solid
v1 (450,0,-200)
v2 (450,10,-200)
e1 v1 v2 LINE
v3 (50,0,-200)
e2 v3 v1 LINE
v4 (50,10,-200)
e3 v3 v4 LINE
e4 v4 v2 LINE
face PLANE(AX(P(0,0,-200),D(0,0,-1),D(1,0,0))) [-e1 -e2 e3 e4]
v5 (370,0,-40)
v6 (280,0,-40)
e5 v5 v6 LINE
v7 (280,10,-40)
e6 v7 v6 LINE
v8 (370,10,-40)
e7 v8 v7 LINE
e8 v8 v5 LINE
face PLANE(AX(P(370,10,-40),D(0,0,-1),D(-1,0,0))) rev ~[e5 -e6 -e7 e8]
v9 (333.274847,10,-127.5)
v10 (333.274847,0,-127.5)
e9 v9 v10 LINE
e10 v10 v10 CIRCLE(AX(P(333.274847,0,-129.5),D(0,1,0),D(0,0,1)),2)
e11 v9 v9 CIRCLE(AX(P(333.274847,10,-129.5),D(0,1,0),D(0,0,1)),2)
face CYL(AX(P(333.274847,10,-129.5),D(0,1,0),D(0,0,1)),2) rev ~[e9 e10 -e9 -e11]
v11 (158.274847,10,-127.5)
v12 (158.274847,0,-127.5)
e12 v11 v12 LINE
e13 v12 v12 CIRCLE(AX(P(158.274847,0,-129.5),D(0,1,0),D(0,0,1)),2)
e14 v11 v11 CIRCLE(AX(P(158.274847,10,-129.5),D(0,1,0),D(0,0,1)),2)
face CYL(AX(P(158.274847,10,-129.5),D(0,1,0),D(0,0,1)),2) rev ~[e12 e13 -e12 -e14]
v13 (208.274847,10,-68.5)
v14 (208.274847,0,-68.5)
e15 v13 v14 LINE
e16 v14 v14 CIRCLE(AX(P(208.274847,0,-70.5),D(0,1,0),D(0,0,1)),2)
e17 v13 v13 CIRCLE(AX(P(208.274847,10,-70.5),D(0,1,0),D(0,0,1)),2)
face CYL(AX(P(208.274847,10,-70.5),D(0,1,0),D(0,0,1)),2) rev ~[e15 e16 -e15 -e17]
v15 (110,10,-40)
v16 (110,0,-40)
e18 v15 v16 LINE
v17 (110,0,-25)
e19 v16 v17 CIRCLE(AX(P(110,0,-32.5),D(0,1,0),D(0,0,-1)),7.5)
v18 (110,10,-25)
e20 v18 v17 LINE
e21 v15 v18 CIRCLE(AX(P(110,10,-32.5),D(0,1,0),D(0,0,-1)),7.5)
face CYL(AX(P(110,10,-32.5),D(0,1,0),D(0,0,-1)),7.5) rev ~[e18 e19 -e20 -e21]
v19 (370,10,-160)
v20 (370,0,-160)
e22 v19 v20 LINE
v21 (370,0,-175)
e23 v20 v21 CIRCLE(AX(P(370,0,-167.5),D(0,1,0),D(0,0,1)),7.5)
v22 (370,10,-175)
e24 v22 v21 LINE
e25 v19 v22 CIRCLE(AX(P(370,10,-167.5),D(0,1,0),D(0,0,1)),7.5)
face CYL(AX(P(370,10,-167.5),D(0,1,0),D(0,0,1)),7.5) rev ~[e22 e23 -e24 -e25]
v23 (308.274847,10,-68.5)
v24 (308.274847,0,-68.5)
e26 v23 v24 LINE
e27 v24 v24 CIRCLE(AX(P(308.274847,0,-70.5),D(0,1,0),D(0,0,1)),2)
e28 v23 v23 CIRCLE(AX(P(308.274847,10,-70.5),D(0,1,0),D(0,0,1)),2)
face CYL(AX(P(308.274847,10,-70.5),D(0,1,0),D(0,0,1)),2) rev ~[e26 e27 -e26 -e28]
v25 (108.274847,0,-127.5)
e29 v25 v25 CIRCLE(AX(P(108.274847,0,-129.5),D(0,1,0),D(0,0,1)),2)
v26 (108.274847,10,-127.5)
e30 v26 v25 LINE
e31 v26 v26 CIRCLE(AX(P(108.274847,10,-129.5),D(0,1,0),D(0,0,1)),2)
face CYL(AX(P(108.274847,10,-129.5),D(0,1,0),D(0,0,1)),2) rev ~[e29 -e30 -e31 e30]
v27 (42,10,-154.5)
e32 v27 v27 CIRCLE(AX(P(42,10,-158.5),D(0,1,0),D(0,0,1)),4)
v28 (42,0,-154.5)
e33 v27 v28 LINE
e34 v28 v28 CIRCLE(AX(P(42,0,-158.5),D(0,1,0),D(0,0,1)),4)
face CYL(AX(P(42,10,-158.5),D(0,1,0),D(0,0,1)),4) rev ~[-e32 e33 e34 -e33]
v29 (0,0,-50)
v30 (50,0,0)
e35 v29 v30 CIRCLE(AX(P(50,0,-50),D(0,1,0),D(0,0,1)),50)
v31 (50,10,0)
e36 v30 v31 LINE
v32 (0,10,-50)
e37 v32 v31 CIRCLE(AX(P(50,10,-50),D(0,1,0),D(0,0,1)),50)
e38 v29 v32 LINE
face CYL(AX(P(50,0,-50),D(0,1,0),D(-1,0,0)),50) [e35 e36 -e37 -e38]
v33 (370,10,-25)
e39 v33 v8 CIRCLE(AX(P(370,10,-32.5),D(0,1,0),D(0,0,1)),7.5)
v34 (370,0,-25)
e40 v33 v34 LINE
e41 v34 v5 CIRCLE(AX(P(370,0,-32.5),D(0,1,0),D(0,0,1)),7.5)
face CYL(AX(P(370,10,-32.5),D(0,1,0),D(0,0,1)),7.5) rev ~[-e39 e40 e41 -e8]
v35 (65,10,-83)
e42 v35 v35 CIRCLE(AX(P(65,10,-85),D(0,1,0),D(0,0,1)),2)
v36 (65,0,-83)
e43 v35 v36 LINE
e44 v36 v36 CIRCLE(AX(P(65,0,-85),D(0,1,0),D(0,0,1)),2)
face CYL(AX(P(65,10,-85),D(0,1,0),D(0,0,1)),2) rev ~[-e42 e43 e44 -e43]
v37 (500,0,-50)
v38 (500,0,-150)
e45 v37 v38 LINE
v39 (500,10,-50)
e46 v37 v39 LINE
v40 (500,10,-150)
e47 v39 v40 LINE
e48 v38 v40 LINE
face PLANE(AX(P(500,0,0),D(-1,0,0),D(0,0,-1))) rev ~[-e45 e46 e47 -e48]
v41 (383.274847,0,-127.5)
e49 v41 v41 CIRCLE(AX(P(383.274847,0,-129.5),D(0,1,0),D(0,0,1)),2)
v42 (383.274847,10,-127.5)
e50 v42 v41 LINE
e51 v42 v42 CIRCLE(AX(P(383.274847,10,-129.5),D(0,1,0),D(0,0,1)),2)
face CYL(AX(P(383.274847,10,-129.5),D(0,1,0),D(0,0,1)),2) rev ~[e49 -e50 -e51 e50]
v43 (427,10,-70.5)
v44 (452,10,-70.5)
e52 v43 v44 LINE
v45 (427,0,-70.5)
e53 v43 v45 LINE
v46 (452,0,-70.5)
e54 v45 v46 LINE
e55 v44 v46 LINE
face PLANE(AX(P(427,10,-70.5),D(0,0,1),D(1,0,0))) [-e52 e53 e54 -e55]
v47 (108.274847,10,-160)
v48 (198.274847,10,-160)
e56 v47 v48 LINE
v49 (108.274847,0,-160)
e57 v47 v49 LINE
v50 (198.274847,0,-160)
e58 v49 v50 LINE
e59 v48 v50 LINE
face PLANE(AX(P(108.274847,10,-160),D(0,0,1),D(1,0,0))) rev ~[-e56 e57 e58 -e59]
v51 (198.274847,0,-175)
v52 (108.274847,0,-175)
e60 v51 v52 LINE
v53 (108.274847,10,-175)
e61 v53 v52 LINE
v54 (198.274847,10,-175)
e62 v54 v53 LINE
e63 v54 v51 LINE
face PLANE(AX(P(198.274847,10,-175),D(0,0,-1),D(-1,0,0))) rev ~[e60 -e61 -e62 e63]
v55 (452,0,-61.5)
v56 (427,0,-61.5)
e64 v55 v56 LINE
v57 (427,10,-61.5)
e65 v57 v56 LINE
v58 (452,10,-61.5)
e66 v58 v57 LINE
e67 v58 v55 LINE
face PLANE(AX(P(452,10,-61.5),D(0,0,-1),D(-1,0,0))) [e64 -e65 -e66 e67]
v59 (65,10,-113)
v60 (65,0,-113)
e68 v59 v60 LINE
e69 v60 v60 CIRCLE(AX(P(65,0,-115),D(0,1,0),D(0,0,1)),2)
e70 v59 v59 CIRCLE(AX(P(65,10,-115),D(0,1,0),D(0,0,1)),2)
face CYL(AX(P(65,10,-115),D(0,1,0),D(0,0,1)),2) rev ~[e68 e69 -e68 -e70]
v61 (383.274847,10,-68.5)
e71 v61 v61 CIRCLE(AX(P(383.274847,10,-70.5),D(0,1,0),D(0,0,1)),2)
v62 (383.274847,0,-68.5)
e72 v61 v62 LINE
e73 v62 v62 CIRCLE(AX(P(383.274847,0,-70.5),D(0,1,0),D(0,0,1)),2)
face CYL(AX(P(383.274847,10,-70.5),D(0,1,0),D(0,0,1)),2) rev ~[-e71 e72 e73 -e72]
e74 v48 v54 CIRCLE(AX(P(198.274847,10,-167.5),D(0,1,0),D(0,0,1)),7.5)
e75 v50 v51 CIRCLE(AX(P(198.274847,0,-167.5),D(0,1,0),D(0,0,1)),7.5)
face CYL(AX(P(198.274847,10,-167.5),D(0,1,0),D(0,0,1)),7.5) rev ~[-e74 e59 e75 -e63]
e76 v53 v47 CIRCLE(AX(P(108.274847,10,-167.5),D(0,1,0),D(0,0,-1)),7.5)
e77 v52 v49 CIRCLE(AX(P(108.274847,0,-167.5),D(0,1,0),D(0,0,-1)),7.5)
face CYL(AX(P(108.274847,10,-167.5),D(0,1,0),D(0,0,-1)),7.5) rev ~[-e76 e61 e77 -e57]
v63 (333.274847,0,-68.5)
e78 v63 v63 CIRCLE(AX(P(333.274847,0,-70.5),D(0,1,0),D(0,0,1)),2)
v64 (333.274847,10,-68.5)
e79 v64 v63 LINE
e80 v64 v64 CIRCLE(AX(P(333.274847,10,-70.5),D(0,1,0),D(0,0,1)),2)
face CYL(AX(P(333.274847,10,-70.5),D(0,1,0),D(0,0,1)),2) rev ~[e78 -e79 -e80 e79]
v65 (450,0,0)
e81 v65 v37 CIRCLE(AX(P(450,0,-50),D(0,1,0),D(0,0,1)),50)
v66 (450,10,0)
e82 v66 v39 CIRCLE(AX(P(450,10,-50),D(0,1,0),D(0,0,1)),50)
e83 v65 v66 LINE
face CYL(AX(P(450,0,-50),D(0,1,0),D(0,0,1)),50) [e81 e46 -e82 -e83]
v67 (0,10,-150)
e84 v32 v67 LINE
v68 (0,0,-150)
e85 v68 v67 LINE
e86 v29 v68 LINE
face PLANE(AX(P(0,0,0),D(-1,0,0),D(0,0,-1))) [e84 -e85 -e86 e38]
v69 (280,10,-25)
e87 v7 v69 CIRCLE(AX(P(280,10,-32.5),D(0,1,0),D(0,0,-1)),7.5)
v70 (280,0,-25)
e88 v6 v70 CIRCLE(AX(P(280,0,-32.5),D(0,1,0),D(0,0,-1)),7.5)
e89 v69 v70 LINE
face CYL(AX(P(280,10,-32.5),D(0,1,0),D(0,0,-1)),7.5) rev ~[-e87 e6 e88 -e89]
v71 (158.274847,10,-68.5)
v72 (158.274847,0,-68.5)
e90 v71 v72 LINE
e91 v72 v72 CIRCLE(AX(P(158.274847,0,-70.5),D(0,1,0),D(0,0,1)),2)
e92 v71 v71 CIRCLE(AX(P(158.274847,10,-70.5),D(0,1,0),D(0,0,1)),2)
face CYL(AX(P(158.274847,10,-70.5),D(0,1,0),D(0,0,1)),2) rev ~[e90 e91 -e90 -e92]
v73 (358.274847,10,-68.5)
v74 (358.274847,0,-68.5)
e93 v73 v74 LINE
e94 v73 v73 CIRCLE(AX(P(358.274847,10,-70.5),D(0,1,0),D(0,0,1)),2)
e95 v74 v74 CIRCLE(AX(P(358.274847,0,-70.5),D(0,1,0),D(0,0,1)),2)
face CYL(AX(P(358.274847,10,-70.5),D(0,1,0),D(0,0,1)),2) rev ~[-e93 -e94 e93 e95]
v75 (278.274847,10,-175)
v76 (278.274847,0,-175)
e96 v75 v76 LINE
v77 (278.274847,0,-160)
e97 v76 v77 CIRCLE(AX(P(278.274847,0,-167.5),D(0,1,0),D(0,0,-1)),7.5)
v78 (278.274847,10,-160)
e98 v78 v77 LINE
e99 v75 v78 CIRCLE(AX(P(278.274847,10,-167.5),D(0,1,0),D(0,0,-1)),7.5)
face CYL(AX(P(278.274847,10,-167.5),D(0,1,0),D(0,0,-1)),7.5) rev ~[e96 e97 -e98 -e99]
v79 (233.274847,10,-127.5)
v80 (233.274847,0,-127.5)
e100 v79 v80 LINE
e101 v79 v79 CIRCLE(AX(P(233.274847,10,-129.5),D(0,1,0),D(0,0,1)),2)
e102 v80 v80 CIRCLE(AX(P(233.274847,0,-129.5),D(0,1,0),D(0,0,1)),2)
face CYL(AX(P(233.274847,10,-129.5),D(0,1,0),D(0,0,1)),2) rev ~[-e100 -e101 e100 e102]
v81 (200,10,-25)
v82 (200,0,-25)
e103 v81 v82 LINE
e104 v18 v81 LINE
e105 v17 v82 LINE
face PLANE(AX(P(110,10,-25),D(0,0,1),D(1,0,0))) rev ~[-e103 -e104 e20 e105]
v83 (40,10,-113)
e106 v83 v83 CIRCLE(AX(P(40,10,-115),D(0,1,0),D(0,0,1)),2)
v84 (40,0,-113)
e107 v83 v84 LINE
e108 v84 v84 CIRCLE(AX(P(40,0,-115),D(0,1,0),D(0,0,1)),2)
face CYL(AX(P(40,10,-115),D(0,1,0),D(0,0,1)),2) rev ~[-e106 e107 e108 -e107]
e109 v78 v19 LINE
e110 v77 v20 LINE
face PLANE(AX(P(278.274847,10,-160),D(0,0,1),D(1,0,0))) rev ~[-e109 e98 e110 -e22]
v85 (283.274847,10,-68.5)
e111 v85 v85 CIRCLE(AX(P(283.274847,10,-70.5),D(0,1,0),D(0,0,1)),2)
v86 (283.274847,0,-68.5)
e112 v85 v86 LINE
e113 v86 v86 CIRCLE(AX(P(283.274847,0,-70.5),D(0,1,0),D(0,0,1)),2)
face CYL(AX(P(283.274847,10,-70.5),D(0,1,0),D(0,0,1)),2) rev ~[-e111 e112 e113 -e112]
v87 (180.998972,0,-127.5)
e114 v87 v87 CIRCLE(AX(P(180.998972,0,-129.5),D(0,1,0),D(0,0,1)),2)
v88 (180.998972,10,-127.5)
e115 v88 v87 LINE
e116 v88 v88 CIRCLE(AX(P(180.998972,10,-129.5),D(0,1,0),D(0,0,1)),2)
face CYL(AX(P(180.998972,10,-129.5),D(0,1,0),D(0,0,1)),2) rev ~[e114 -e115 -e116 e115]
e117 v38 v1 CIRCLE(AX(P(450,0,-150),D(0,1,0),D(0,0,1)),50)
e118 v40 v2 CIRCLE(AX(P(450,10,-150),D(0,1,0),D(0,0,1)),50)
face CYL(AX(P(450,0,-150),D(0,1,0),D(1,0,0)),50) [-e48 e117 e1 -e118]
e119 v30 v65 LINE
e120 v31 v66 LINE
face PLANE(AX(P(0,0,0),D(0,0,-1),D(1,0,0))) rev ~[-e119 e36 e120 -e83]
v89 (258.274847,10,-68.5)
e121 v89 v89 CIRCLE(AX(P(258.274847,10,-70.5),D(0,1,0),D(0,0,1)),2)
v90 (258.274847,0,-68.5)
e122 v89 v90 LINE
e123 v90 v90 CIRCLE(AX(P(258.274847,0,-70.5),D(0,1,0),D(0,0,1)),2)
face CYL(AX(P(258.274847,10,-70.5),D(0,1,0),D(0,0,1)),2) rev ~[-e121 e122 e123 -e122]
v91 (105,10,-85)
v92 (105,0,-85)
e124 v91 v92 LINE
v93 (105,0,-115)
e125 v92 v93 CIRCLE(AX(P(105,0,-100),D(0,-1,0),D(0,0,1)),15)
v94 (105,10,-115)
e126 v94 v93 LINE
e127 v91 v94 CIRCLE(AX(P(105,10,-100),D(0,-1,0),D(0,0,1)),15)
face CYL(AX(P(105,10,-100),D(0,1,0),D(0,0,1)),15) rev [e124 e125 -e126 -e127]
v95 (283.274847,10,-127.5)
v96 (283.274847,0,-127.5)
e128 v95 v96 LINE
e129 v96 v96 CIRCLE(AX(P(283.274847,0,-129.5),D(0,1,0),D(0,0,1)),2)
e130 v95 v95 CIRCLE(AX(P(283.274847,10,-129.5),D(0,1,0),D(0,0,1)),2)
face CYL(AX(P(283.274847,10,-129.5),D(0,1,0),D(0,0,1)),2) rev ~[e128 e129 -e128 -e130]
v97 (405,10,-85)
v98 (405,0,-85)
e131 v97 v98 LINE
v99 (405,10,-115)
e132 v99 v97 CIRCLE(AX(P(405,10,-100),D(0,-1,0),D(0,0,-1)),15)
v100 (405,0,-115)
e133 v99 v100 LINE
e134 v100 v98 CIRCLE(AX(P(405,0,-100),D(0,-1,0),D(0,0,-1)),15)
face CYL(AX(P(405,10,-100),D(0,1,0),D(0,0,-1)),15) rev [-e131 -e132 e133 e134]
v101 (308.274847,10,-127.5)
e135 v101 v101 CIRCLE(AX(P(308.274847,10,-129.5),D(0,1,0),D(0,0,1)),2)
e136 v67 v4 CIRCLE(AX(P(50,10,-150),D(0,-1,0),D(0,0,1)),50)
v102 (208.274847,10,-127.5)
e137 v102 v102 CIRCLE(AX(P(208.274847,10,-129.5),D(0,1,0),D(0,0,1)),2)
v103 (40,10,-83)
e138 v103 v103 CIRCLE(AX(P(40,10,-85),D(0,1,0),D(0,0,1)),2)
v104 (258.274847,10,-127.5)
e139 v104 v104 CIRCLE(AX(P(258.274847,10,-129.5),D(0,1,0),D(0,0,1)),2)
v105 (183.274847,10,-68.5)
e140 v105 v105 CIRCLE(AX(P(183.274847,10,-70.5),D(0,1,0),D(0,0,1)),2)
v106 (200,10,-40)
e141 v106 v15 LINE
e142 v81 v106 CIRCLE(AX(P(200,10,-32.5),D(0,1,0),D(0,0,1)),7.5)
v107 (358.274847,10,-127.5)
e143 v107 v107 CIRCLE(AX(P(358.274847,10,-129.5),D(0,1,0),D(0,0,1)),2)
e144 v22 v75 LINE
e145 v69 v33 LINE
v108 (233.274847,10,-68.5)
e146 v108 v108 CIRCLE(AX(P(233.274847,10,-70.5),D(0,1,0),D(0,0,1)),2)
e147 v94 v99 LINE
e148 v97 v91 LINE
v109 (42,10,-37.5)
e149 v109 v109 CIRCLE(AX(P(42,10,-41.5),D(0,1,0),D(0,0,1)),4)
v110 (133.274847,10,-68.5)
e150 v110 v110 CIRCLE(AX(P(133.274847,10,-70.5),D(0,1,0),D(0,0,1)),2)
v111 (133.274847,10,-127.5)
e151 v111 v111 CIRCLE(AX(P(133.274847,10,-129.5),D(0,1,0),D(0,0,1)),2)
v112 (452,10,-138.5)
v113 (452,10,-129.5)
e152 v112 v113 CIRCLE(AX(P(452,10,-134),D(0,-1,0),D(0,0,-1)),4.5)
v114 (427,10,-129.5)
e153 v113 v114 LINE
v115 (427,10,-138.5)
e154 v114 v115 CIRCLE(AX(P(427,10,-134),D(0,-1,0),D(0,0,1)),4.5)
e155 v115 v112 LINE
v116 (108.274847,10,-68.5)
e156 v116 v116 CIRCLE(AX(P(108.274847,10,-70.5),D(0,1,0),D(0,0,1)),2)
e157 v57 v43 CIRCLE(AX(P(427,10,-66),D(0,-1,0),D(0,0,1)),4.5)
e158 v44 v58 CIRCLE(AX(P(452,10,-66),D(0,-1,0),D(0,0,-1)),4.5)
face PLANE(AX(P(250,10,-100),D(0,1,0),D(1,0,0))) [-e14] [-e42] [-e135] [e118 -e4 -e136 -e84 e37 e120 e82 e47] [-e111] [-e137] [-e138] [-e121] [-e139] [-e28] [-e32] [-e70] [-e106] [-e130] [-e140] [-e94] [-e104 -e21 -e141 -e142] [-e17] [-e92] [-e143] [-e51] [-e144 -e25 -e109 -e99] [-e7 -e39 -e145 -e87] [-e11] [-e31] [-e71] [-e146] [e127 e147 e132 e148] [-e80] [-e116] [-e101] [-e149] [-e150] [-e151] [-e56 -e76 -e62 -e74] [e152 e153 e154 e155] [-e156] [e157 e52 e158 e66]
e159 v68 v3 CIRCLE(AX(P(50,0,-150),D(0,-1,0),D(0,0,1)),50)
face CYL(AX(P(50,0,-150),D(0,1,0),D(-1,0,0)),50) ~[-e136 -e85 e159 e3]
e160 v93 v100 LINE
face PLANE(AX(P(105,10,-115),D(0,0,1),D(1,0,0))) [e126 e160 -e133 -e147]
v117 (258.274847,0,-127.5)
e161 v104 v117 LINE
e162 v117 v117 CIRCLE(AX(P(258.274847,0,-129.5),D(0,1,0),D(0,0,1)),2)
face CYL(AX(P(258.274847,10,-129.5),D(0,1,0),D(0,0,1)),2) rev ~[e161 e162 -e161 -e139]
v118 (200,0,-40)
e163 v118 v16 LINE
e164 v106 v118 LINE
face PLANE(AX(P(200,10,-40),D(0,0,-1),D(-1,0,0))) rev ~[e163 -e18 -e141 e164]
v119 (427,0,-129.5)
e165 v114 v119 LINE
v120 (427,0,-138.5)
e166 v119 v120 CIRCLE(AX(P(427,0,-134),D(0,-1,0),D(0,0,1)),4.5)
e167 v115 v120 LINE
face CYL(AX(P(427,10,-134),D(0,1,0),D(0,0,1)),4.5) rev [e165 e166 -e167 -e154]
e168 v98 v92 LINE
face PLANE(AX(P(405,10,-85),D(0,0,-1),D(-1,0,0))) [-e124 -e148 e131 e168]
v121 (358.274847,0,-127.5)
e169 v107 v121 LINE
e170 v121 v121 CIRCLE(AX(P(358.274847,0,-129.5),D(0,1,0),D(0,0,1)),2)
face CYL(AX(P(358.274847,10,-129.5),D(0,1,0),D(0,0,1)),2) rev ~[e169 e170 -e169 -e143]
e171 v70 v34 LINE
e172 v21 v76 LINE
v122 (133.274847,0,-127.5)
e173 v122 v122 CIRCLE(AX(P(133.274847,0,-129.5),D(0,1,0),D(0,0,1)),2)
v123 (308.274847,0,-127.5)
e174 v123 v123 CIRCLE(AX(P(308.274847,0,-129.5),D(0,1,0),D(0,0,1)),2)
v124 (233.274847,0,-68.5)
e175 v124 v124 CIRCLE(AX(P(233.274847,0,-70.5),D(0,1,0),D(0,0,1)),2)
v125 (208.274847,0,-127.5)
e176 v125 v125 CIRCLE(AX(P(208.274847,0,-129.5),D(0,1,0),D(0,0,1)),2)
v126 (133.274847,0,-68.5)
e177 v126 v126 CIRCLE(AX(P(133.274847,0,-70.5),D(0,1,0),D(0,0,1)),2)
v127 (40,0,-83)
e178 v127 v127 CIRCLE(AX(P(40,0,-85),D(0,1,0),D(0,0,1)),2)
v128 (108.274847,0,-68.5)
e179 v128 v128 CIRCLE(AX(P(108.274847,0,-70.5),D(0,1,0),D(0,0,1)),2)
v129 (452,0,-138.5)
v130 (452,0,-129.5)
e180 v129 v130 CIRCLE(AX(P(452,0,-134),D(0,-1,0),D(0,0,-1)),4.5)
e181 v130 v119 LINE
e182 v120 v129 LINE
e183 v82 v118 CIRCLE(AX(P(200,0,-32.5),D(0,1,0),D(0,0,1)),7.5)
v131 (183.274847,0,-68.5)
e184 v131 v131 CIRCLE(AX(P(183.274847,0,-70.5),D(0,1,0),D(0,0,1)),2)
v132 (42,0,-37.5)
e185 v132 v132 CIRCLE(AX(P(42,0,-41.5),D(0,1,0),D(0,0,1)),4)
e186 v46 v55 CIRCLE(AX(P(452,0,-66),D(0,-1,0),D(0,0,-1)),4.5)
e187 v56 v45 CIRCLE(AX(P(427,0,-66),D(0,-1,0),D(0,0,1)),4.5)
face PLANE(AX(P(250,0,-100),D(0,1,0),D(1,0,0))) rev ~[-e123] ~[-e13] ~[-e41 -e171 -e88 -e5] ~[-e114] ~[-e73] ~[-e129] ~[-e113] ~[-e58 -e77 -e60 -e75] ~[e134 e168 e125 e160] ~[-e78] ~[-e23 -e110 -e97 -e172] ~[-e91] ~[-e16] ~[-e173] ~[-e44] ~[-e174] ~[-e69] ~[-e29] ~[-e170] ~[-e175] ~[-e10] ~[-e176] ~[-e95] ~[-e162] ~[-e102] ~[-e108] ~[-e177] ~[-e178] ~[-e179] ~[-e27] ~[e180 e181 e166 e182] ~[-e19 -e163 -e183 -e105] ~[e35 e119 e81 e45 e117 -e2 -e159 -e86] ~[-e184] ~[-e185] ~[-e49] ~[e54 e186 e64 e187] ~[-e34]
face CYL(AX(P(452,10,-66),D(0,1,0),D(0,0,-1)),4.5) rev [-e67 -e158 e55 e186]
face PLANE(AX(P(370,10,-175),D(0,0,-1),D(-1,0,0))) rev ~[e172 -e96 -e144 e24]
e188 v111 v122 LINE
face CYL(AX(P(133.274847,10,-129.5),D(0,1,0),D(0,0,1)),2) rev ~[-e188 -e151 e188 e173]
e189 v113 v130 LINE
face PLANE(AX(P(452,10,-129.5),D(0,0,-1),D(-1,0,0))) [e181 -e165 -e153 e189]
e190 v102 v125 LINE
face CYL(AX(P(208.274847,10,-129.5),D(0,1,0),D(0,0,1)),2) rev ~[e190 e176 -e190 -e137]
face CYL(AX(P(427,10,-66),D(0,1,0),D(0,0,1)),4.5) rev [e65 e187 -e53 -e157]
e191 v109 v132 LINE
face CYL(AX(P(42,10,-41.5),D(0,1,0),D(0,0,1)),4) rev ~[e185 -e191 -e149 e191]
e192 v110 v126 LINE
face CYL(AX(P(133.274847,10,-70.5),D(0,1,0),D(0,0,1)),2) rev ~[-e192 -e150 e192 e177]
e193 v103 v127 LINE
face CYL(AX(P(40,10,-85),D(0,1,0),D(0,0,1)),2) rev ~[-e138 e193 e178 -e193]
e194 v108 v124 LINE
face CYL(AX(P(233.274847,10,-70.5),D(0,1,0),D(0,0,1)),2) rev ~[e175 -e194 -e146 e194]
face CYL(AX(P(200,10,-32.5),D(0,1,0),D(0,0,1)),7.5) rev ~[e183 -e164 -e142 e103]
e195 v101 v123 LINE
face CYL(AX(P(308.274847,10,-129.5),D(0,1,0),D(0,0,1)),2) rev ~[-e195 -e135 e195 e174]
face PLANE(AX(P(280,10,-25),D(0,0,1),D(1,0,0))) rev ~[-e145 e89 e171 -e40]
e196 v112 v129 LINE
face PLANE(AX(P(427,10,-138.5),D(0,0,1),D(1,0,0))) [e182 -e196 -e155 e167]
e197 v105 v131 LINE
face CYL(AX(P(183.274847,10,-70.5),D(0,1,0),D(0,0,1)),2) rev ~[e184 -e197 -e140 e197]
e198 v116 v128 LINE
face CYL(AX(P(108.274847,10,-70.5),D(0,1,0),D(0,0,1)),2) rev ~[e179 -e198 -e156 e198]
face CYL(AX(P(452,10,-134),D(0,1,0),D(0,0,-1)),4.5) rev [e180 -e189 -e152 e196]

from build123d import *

# Parameters (mm, degrees)
SKETCH1_W           = 500
SKETCH1_H           = 200
BOSS_EXTRUDE1_DEPTH = 10
FILLET1_R           = 50
SKETCH2_R           = 4
SKETCH2_R_2         = 2
CUT_EXTRUDE2_DEPTH  = 10


with BuildPart() as part:
    # Sketch1 → Boss-Extrude1 (new body)
    with BuildSketch(Plane(origin=(0, 0, 0), x_dir=(1, 0, 0), z_dir=(0, 1, 0))):
        with Locations((250, 100)):
            Rectangle(SKETCH1_W, SKETCH1_H)
    extrude(amount=BOSS_EXTRUDE1_DEPTH)

    # Fillet1
    fillet1_edges = [part.edges().sort_by_distance(p)[0] for p in [
        (0, 5, -200),
        (500, 5, -200),
        (500, 5, 0),
        (0, 5, 0),
    ]]
    fillet(fillet1_edges, radius=FILLET1_R)

    # Sketch2 → Cut-Extrude2 (cut)
    with BuildSketch(Plane(origin=(0, 10, 0), x_dir=(1, 0, 0), z_dir=(0, 1, 0))):
        with Locations(Location((42, 41.5, 0), (0, 0, 270))):
            Circle(SKETCH2_R)
        with Locations(Location((42, 158.5, 0), (0, 0, 270))):
            Circle(SKETCH2_R)
        with Locations(Location((108.274847281, 70.5, 0), (0, 0, 270))):
            Circle(SKETCH2_R_2)
        with Locations(Location((133.274847281, 70.5, 0), (0, 0, 270))):
            Circle(SKETCH2_R_2)
        with Locations(Location((158.274847281, 70.5, 0), (0, 0, 270))):
            Circle(SKETCH2_R_2)
        with Locations(Location((183.274847281, 70.5, 0), (0, 0, 270))):
            Circle(SKETCH2_R_2)
        with Locations(Location((208.274847281, 70.5, 0), (0, 0, 270))):
            Circle(SKETCH2_R_2)
        with Locations(Location((233.274847281, 70.5, 0), (0, 0, 270))):
            Circle(SKETCH2_R_2)
        with Locations(Location((258.274847281, 70.5, 0), (0, 0, 270))):
            Circle(SKETCH2_R_2)
        with Locations(Location((283.274847281, 70.5, 0), (0, 0, 270))):
            Circle(SKETCH2_R_2)
        with Locations(Location((308.274847281, 70.5, 0), (0, 0, 270))):
            Circle(SKETCH2_R_2)
        with Locations(Location((333.274847281, 70.5, 0), (0, 0, 270))):
            Circle(SKETCH2_R_2)
        with Locations(Location((358.274847281, 70.5, 0), (0, 0, 270))):
            Circle(SKETCH2_R_2)
        with Locations(Location((383.274847281, 70.5, 0), (0, 0, 270))):
            Circle(SKETCH2_R_2)
        with Locations(Location((133.274847281, 129.5, 0), (0, 0, 270))):
            Circle(SKETCH2_R_2)
        with Locations(Location((158.274847281, 129.5, 0), (0, 0, 270))):
            Circle(SKETCH2_R_2)
        with Locations(Location((180.998972497, 129.5, 0), (0, 0, 270))):
            Circle(SKETCH2_R_2)
        with Locations(Location((208.274847281, 129.5, 0), (0, 0, 270))):
            Circle(SKETCH2_R_2)
        with Locations(Location((233.274847281, 129.5, 0), (0, 0, 270))):
            Circle(SKETCH2_R_2)
        with Locations(Location((258.274847281, 129.5, 0), (0, 0, 270))):
            Circle(SKETCH2_R_2)
        with Locations(Location((283.274847281, 129.5, 0), (0, 0, 270))):
            Circle(SKETCH2_R_2)
        with Locations(Location((308.274847281, 129.5, 0), (0, 0, 270))):
            Circle(SKETCH2_R_2)
        with Locations(Location((333.274847281, 129.5, 0), (0, 0, 270))):
            Circle(SKETCH2_R_2)
        with Locations(Location((358.274847281, 129.5, 0), (0, 0, 270))):
            Circle(SKETCH2_R_2)
        with Locations(Location((383.274847281, 129.5, 0), (0, 0, 270))):
            Circle(SKETCH2_R_2)
        with Locations(Location((108.274847281, 129.5, 0), (0, 0, 270))):
            Circle(SKETCH2_R_2)
        with Locations(Location((40, 115, 0), (0, 0, 270))):
            Circle(SKETCH2_R_2)
        with Locations(Location((65, 115, 0), (0, 0, 270))):
            Circle(SKETCH2_R_2)
        with Locations(Location((65, 85, 0), (0, 0, 270))):
            Circle(SKETCH2_R_2)
        with Locations(Location((40, 85, 0), (0, 0, 270))):
            Circle(SKETCH2_R_2)
        with BuildLine():
            Line((105, 115), (405, 115))
            ThreePointArc((405, 115), (420, 100), (405, 85))
            Line((405, 85), (105, 85))
            ThreePointArc((105, 85), (90, 100), (105, 115))
        make_face()
        with BuildLine():
            Line((427, 138.5), (452, 138.5))
            ThreePointArc((452, 138.5), (456.5, 134), (452, 129.5))
            Line((452, 129.5), (427, 129.5))
            ThreePointArc((427, 129.5), (422.5, 134), (427, 138.5))
        make_face()
        with BuildLine():
            Line((427, 70.5), (452, 70.5))
            ThreePointArc((452, 70.5), (456.5, 66), (452, 61.5))
            Line((452, 61.5), (427, 61.5))
            ThreePointArc((427, 61.5), (422.5, 66), (427, 70.5))
        make_face()
        with BuildLine():
            Line((108.274847281, 160), (198.274847281, 160))
            ThreePointArc((198.274847281, 160), (205.774847281, 167.5), (198.274847281, 175))
            Line((198.274847281, 175), (108.274847281, 175))
            ThreePointArc((108.274847281, 175), (100.774847281, 167.5), (108.274847281, 160))
        make_face()
        with BuildLine():
            Line((278.274847281, 160), (370, 160))
            ThreePointArc((370, 160), (377.5, 167.5), (370, 175))
            Line((370, 175), (278.274847281, 175))
            ThreePointArc((278.274847281, 175), (270.774847281, 167.5), (278.274847281, 160))
        make_face()
        with BuildLine():
            Line((110, 25), (200, 25))
            ThreePointArc((200, 25), (207.5, 32.5), (200, 40))
            Line((200, 40), (110, 40))
            ThreePointArc((110, 40), (102.5, 32.5), (110, 25))
        make_face()
        with BuildLine():
            Line((280, 25), (370, 25))
            ThreePointArc((370, 25), (377.5, 32.5), (370, 40))
            Line((370, 40), (280, 40))
            ThreePointArc((280, 40), (272.5, 32.5), (280, 25))
        make_face()
    extrude(amount=-CUT_EXTRUDE2_DEPTH, mode=Mode.SUBTRACT)


solid = part.part
